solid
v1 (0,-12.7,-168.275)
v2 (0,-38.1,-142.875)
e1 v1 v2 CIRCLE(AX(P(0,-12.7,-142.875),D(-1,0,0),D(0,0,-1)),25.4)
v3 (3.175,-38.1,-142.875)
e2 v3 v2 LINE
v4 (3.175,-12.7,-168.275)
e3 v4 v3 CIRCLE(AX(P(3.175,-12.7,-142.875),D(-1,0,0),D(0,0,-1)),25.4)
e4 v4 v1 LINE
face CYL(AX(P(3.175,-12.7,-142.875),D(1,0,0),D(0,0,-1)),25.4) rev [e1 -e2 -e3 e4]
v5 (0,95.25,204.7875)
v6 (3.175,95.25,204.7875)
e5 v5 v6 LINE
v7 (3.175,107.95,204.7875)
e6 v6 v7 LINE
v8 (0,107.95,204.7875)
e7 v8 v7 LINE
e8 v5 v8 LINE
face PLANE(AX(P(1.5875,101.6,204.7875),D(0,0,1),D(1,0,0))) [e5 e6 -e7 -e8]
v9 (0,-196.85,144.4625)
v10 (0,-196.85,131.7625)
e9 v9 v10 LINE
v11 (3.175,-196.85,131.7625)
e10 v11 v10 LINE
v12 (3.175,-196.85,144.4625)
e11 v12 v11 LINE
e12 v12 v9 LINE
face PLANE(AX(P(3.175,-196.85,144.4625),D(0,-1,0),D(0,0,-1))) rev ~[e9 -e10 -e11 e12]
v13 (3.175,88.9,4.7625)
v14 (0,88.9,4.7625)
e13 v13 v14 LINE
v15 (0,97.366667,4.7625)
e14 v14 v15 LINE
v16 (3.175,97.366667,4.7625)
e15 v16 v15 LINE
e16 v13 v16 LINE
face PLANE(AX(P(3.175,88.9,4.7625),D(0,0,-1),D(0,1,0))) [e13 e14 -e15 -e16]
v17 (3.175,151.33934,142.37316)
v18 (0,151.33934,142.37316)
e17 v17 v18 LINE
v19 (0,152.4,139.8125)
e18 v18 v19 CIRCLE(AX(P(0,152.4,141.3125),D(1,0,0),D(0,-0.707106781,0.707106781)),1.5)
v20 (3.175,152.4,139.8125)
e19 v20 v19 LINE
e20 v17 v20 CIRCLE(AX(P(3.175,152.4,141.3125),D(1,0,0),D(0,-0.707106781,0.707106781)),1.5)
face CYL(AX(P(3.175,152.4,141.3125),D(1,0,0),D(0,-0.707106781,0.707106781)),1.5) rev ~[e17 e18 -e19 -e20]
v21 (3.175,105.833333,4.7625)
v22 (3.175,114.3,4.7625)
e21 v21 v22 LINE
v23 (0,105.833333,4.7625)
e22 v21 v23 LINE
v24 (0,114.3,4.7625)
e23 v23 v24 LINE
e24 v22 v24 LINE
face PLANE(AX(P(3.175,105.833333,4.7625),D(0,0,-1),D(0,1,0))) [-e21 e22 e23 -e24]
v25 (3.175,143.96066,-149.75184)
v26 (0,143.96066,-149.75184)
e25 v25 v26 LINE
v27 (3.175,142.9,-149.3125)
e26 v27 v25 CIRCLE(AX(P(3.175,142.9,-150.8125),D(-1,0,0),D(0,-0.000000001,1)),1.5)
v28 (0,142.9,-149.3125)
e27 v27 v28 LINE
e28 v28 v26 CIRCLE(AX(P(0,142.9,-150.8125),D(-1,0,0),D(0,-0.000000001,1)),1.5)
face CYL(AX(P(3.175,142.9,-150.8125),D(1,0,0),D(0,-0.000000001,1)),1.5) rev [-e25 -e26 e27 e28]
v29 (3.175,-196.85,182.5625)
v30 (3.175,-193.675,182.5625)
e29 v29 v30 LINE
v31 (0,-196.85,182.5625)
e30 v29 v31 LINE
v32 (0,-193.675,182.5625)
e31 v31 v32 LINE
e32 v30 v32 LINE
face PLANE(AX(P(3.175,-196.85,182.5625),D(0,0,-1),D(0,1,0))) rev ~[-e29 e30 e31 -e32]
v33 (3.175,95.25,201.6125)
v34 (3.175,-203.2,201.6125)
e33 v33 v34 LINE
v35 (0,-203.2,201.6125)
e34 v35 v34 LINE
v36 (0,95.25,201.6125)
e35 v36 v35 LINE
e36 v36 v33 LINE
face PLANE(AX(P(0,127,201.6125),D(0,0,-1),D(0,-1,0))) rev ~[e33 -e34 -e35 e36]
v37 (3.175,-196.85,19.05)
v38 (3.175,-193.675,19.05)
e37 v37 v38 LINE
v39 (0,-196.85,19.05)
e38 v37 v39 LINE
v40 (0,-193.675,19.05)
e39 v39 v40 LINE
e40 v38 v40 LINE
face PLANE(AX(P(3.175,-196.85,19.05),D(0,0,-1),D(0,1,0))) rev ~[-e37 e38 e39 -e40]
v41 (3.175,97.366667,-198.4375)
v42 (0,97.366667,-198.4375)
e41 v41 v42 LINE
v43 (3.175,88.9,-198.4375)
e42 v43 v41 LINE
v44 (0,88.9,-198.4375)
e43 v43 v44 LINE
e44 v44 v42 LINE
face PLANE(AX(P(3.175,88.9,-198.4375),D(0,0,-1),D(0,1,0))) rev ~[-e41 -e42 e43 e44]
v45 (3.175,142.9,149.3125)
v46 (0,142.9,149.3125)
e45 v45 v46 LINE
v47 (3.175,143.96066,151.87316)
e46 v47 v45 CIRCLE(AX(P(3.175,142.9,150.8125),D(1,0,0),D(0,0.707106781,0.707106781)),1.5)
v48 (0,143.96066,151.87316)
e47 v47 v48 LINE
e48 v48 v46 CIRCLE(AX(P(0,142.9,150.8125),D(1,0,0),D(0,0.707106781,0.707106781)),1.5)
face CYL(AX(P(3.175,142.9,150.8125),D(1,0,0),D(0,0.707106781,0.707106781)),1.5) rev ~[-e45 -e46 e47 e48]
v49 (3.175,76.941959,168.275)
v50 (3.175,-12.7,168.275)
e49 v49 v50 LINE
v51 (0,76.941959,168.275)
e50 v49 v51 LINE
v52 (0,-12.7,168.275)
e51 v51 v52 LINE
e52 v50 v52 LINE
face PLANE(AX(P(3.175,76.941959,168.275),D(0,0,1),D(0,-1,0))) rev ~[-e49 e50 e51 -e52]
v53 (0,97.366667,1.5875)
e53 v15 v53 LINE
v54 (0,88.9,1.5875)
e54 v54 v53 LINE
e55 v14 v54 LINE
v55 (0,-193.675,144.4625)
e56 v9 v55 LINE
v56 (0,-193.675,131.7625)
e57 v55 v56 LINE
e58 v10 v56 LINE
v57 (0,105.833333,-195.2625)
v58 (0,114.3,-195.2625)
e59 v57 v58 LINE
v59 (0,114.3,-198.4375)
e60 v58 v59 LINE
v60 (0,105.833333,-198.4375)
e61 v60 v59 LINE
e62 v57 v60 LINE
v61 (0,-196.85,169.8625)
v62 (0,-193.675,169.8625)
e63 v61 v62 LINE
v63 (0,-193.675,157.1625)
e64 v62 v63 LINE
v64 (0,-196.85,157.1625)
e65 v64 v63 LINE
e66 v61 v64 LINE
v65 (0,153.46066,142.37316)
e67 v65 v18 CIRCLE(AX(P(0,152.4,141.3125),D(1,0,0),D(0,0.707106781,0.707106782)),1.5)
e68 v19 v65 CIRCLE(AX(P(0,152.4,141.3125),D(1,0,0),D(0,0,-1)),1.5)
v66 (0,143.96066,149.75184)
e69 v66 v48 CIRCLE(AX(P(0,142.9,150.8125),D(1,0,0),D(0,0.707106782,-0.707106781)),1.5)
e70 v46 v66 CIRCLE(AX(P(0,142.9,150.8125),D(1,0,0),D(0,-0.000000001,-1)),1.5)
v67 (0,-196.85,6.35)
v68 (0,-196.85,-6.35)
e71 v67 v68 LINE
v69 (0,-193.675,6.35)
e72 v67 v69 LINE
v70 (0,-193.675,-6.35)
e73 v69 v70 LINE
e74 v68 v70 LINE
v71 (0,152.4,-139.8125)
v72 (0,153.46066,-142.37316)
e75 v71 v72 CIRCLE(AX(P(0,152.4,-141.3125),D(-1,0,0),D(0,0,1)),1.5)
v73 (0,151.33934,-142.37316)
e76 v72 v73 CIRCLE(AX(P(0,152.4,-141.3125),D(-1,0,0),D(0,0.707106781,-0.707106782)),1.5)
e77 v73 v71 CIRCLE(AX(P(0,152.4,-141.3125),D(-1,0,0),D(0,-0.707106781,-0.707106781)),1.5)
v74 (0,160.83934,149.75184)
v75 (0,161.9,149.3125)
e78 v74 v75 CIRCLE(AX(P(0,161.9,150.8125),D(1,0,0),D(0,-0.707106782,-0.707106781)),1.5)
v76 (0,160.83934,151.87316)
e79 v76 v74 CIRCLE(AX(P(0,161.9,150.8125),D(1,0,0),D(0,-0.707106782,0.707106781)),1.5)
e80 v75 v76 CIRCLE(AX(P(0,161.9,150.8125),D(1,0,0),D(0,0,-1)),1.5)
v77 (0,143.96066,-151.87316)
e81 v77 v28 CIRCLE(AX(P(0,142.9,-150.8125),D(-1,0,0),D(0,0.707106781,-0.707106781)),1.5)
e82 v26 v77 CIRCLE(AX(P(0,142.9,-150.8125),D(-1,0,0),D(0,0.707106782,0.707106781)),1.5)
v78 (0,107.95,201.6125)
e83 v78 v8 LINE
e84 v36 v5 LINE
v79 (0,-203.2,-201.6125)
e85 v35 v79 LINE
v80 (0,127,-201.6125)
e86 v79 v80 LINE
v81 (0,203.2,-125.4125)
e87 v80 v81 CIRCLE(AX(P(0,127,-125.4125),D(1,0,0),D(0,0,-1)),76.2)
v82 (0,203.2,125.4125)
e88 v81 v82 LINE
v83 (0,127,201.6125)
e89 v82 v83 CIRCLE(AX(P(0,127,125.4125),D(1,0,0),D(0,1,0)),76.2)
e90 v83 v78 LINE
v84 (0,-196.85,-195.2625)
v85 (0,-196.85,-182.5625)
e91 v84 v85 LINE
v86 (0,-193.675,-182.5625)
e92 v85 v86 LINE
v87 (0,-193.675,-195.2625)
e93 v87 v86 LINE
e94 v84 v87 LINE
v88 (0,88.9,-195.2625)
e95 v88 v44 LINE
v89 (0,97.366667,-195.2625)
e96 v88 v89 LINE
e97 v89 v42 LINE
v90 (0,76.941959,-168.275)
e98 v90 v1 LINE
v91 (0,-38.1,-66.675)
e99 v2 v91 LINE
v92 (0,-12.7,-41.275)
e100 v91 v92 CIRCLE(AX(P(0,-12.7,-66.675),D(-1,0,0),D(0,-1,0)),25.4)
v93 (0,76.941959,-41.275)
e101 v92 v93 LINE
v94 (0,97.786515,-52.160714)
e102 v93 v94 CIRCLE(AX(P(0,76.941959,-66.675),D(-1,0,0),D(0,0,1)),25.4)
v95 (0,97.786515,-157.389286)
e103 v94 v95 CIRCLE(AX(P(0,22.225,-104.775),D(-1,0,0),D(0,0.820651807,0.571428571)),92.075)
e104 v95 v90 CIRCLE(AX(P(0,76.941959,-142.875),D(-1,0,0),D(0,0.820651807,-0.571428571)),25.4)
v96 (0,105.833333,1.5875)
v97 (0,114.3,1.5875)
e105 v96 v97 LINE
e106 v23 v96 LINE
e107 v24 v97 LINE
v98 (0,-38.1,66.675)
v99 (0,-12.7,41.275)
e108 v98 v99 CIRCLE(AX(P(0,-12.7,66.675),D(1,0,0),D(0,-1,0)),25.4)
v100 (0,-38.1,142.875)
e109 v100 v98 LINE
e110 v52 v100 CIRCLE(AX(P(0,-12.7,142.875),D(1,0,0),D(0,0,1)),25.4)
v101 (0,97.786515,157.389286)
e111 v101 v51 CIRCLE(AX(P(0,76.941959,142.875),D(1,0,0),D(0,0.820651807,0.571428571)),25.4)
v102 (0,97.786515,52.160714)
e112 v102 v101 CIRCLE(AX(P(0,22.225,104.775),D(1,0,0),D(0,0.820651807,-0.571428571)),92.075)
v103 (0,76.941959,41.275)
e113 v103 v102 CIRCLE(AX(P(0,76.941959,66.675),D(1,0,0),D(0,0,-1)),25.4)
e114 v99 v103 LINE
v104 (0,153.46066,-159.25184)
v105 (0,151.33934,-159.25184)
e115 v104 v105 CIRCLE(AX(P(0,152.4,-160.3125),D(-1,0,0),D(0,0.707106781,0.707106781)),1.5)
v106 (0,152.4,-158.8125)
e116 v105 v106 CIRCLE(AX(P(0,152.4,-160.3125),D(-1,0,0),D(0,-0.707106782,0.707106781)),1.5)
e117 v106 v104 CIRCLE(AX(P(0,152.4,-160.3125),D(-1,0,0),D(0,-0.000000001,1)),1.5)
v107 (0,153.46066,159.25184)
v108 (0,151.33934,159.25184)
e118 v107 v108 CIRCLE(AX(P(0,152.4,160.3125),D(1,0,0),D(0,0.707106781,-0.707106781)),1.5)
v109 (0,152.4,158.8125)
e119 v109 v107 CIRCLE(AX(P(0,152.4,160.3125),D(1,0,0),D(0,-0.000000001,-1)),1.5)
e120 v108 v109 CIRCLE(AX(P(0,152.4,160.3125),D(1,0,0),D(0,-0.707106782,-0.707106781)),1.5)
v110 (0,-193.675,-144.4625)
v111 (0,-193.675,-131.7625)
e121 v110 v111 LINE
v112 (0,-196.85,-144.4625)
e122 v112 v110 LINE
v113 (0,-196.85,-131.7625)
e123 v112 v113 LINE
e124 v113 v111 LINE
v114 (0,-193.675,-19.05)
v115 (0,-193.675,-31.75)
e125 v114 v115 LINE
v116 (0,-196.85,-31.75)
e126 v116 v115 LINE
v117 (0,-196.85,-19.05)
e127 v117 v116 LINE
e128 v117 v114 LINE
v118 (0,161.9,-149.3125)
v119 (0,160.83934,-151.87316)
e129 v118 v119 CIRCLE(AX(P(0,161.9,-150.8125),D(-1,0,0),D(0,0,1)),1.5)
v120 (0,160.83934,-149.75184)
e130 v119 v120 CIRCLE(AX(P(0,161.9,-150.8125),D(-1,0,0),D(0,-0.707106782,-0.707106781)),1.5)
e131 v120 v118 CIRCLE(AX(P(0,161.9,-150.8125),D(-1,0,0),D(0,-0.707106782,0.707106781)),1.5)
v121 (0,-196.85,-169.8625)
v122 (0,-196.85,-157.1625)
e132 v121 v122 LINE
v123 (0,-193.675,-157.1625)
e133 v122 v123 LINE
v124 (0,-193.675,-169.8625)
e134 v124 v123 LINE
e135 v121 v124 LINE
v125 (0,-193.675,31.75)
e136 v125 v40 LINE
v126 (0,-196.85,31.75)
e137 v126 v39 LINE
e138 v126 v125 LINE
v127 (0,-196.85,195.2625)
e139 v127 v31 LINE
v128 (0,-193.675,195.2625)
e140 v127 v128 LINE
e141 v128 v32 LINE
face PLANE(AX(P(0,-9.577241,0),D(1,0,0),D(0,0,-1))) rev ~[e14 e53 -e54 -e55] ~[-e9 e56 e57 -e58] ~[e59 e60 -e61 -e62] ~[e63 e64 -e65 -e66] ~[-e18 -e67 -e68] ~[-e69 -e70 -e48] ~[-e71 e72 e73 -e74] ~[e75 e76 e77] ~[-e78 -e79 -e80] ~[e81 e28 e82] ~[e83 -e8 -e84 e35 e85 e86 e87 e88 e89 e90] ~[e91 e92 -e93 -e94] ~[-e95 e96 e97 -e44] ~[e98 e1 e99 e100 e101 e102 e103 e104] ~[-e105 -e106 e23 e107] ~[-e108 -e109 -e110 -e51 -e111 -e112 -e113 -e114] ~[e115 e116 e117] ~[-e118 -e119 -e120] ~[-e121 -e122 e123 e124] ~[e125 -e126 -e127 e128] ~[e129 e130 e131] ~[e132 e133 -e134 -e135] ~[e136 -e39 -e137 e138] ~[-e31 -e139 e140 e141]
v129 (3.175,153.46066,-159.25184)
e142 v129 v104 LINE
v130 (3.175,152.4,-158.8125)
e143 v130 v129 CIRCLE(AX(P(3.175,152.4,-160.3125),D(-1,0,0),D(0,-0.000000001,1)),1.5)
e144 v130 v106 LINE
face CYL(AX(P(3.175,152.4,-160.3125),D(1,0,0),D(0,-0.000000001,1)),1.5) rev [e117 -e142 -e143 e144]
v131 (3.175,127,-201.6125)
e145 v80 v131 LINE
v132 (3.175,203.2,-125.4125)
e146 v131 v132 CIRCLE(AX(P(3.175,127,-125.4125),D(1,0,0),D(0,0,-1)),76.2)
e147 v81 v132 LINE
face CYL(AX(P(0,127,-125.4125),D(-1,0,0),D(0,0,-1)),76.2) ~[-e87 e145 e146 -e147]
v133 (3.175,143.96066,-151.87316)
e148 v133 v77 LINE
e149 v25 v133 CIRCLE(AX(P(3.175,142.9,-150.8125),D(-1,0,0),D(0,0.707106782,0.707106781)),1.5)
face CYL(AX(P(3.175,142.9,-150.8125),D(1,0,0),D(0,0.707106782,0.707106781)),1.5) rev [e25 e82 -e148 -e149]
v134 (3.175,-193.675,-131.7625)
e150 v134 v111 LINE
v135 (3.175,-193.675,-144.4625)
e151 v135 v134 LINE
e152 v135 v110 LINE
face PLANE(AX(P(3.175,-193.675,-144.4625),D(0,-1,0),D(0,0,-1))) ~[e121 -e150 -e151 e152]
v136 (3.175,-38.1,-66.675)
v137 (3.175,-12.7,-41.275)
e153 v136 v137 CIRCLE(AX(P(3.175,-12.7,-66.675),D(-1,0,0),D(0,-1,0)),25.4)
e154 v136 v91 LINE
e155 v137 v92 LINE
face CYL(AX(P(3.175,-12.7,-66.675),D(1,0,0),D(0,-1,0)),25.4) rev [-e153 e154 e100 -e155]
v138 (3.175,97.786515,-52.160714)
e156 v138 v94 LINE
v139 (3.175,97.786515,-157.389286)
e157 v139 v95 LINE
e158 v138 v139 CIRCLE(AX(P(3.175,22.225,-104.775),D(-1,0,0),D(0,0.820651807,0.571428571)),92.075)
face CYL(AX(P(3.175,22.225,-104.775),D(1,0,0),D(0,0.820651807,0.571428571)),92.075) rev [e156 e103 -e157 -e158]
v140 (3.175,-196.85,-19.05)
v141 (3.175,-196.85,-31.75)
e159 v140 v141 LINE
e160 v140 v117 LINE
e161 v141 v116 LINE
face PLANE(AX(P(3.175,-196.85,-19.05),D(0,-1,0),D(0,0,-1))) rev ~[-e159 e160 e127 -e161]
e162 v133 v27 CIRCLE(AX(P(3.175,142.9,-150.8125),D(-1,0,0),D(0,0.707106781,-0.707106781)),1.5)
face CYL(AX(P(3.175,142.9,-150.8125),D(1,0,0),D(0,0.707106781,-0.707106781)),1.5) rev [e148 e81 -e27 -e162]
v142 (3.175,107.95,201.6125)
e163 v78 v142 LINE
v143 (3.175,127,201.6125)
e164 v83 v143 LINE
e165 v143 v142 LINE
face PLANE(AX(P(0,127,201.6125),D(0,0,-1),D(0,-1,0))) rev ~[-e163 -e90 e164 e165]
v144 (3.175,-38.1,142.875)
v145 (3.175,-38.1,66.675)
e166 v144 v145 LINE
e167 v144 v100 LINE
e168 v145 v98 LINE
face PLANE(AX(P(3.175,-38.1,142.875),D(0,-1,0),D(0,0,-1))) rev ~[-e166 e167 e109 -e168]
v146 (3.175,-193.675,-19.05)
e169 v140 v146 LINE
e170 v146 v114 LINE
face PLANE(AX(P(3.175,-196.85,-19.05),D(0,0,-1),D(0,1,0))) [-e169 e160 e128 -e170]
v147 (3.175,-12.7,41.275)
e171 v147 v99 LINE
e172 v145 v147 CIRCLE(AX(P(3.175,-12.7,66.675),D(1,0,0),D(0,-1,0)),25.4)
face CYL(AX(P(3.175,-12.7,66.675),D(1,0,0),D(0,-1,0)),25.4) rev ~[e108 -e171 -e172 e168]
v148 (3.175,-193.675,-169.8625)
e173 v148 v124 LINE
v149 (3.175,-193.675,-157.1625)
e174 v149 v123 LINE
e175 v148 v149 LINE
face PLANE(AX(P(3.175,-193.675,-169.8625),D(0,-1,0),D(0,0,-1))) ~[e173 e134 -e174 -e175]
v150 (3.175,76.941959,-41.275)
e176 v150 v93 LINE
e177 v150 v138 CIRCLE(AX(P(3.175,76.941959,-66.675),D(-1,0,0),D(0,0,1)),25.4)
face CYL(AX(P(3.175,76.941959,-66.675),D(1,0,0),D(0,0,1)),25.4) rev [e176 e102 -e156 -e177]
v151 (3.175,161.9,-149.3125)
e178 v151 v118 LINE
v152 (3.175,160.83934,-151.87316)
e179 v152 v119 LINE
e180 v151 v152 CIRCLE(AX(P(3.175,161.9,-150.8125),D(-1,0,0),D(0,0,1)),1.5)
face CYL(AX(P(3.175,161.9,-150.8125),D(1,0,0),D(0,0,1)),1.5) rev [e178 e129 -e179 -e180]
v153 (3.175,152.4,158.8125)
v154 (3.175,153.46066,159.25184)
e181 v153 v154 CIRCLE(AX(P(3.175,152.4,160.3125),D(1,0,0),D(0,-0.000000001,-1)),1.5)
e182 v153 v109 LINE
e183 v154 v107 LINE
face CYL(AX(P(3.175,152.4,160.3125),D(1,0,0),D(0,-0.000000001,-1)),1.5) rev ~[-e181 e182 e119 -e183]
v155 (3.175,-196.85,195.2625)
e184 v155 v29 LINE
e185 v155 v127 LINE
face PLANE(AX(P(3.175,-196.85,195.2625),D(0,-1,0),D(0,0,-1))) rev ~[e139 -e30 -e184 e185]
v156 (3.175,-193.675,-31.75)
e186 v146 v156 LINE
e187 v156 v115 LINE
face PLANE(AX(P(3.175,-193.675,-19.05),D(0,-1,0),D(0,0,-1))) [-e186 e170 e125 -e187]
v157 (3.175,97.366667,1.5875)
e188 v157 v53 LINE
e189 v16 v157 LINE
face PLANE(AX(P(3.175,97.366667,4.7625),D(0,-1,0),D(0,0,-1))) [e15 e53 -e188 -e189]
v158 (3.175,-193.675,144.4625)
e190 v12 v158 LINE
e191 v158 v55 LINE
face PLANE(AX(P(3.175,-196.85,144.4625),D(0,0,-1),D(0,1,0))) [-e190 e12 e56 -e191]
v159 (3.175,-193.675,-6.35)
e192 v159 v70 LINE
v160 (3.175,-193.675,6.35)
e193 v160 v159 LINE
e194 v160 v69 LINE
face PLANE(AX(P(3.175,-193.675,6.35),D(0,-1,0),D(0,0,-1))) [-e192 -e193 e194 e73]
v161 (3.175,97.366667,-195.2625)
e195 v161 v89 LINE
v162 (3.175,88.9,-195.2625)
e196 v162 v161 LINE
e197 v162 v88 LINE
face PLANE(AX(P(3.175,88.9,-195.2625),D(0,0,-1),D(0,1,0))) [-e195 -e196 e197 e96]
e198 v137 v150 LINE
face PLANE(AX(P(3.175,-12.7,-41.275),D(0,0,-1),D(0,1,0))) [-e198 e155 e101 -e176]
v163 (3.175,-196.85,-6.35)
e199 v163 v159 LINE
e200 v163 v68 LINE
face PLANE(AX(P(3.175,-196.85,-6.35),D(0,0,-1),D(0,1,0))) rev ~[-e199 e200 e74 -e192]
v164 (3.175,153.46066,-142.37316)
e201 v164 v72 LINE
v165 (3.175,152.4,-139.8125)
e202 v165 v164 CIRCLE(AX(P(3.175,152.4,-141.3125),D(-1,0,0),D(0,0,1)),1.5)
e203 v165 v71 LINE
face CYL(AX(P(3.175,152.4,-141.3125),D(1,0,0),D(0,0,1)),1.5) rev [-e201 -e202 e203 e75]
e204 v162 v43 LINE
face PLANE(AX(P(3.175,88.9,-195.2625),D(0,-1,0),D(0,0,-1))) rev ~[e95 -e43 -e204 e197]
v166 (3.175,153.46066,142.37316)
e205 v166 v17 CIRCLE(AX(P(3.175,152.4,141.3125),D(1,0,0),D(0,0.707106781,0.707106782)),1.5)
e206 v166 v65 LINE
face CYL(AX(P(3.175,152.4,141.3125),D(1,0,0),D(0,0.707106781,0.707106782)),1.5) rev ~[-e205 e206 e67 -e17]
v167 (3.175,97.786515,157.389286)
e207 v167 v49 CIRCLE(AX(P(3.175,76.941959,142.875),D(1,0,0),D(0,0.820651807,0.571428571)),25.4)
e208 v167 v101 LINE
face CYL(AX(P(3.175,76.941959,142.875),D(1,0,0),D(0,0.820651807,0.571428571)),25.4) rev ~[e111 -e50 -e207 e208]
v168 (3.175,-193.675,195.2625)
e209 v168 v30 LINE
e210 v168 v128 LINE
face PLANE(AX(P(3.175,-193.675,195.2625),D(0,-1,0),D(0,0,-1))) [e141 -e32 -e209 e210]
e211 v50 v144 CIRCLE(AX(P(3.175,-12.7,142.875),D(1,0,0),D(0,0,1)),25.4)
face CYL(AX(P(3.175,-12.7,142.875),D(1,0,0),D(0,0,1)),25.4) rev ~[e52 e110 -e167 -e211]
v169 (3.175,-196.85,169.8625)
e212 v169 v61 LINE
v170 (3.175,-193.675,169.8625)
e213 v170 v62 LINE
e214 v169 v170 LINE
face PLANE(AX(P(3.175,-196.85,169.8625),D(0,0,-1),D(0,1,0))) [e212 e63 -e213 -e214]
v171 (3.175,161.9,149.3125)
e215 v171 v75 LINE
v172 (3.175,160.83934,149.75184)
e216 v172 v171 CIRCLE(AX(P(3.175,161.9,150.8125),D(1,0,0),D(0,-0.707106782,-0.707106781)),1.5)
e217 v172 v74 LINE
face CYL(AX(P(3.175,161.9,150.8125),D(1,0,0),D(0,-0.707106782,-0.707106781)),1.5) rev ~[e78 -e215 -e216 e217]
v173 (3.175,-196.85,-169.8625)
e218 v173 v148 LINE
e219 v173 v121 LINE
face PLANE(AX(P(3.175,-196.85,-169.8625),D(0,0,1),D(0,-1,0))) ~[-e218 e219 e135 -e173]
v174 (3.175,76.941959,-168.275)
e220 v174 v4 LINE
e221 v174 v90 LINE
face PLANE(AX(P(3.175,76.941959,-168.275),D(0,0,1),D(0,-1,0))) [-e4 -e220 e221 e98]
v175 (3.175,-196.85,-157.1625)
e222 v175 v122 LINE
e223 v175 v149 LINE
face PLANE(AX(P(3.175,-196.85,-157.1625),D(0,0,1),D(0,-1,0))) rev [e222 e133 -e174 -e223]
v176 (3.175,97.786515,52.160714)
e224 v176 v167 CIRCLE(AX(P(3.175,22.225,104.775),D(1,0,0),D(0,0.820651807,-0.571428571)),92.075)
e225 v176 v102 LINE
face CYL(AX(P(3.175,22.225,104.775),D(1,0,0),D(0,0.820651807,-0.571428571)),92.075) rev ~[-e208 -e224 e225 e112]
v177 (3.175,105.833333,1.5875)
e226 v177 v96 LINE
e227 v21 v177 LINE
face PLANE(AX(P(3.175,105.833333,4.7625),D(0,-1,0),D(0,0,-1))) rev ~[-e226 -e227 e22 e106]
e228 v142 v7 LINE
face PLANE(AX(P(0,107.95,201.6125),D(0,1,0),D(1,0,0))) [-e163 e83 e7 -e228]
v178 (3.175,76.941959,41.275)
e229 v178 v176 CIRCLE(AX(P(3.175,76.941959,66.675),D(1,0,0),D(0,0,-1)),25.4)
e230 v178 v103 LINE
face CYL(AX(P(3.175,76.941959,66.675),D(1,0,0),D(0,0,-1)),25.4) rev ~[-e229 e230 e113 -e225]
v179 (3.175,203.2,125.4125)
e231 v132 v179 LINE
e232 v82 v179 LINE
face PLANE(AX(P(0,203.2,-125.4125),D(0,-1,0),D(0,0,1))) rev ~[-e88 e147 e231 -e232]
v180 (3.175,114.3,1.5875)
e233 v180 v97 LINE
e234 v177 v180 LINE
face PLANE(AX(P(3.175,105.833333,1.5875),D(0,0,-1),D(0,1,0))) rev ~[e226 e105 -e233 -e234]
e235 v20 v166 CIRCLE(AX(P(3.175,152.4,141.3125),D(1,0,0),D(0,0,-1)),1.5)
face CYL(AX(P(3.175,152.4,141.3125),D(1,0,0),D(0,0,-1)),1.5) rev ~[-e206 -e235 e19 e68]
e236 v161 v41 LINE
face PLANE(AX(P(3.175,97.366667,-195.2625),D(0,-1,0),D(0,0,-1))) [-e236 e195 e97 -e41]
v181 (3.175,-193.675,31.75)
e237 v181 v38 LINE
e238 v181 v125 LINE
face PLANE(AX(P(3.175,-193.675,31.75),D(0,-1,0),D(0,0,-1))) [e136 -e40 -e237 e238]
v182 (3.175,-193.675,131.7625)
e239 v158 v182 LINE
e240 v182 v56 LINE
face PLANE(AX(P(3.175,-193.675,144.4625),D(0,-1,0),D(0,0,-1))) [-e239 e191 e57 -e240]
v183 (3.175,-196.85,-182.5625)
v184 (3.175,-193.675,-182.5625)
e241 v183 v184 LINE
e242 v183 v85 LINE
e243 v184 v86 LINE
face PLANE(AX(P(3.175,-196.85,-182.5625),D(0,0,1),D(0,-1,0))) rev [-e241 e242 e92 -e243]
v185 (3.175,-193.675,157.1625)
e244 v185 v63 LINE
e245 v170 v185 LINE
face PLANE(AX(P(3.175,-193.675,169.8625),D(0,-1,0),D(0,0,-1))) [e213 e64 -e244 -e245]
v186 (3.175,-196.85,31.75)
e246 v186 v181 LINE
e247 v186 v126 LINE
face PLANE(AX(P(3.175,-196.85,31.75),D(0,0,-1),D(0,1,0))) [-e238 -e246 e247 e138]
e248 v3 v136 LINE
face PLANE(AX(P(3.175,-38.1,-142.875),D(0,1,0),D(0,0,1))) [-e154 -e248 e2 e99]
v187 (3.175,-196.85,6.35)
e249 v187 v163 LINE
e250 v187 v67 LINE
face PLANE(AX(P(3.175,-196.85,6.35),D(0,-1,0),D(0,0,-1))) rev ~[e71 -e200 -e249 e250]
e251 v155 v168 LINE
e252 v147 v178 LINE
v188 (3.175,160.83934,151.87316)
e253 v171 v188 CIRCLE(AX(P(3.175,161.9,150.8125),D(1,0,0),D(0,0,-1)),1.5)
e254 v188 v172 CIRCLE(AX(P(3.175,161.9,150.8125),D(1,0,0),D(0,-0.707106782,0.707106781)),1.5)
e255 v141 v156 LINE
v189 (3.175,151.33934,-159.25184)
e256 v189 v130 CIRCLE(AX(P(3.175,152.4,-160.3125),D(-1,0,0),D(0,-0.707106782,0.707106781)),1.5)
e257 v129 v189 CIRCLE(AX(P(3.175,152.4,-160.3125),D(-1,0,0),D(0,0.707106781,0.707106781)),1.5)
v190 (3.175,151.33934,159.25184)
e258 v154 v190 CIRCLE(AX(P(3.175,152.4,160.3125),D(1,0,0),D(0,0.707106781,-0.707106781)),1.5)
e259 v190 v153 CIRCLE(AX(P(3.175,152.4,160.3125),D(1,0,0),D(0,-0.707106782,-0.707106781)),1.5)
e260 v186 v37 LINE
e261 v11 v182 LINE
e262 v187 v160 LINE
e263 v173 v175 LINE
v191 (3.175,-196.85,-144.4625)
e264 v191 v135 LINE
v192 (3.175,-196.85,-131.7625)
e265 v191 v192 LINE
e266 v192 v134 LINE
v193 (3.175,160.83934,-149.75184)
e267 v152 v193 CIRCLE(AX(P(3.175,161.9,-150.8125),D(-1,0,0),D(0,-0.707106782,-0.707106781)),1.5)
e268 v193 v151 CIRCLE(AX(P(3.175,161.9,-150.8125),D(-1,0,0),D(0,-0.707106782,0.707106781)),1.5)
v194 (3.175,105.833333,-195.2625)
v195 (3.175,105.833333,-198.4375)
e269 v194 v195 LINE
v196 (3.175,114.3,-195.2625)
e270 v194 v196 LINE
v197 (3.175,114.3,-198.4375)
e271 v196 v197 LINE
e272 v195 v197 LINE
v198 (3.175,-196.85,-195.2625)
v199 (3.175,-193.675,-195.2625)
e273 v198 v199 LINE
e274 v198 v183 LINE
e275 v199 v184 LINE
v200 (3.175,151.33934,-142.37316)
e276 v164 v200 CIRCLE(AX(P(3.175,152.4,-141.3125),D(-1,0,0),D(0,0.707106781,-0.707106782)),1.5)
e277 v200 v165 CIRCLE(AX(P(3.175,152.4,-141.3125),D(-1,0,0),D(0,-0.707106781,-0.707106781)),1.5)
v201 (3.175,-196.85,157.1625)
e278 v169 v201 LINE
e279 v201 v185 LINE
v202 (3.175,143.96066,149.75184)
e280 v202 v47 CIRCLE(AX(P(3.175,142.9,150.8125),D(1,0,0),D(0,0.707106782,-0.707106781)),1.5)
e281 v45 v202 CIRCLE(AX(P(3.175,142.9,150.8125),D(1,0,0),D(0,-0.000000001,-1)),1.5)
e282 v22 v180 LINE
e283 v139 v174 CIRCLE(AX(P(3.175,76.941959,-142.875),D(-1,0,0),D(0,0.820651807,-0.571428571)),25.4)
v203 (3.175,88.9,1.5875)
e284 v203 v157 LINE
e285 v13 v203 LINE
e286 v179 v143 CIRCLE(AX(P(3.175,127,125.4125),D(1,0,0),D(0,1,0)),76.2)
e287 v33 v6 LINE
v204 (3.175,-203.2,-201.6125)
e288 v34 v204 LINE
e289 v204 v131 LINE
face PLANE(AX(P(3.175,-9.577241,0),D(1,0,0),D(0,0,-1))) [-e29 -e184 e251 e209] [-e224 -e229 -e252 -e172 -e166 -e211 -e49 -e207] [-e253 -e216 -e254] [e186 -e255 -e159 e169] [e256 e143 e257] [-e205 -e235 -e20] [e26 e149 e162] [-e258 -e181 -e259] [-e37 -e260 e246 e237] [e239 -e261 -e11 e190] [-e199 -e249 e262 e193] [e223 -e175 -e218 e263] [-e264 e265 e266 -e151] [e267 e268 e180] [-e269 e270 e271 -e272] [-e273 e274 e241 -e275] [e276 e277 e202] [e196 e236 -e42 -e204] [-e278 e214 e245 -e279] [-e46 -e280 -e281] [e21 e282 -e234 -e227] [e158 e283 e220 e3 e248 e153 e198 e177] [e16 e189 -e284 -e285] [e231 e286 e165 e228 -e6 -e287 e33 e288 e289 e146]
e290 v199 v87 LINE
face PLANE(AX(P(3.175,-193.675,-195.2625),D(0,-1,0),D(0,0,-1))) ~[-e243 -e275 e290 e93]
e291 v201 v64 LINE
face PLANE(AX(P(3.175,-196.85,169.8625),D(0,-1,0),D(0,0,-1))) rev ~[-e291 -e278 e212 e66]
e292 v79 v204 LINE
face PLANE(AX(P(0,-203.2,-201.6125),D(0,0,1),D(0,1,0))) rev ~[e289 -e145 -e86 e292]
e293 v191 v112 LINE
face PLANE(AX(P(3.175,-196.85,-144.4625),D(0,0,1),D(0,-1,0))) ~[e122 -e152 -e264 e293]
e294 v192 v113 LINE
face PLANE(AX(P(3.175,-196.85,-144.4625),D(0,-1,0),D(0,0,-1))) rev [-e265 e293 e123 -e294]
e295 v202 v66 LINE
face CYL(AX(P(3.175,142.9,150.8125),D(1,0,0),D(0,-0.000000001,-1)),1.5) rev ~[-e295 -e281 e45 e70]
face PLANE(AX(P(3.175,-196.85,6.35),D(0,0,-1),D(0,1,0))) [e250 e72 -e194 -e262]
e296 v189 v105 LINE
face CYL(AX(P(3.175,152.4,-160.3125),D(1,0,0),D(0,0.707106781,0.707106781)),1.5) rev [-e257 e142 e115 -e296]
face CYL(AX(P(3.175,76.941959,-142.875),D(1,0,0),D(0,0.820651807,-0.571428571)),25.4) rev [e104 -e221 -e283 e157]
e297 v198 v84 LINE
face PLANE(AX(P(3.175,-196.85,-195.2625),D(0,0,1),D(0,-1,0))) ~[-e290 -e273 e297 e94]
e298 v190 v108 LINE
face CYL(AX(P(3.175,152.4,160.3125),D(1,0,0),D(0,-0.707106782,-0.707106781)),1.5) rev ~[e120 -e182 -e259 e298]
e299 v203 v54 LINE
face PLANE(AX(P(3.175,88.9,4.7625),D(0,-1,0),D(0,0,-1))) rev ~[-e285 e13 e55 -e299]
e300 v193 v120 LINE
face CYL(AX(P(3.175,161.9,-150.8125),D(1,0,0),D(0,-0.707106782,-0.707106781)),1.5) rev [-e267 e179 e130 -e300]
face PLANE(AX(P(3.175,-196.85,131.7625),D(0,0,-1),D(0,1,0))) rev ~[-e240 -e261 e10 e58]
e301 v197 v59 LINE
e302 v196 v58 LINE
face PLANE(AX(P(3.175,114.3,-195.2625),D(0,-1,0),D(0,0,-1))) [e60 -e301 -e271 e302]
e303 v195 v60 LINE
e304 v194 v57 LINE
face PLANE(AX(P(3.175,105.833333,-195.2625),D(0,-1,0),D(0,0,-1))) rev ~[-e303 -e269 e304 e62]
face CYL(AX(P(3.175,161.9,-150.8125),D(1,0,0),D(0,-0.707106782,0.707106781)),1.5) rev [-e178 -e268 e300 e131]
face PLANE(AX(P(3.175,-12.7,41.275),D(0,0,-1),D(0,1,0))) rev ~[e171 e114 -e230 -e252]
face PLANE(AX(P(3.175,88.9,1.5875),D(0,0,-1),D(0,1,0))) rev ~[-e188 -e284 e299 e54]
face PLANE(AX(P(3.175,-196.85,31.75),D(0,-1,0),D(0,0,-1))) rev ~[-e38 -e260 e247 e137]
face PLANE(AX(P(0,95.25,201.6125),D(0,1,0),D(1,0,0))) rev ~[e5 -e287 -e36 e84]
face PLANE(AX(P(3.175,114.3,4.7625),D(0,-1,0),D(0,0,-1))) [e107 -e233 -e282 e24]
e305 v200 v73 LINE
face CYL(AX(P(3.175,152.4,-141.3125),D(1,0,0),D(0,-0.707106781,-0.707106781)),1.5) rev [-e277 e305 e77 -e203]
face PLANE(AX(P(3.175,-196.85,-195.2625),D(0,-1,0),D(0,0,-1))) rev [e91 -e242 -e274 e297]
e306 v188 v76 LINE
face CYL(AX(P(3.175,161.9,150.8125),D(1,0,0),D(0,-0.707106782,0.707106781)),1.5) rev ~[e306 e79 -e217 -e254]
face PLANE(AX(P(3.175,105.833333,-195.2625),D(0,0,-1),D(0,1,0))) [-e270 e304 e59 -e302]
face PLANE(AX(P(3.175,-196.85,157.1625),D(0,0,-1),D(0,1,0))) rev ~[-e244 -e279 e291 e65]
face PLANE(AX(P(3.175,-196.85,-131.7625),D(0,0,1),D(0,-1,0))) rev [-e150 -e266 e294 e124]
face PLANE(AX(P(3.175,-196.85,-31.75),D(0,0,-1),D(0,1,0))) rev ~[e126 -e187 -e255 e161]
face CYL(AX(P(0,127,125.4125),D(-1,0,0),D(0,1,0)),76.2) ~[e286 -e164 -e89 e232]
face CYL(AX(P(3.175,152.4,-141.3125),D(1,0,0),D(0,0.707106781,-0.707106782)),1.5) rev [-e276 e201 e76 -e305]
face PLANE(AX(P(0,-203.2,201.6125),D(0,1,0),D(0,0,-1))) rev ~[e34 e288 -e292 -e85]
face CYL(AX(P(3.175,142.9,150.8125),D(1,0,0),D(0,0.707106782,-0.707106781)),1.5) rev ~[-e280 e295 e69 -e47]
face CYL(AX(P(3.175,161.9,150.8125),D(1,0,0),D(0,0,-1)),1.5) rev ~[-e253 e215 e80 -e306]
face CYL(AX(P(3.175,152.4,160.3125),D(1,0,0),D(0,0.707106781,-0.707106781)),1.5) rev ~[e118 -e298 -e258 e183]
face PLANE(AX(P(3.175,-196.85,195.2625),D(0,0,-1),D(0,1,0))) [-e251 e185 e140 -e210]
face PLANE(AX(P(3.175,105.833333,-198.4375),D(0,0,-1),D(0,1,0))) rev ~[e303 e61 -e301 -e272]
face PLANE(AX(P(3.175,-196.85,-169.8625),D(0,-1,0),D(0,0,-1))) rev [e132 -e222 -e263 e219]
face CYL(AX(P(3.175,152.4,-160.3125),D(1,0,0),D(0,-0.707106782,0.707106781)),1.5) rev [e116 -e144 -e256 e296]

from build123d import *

# Parameters (mm, degrees)
BOSS_EXTRUDE1_DEPTH = 3.175
SKETCH2_W           = 3.175
SKETCH2_H           = 8.466666667
CUT_EXTRUDE1_DEPTH  = 3.175
SKETCH3_W           = 3.175
SKETCH3_H           = 12.7
BOSS_EXTRUDE2_DEPTH = 3.175
CUT_EXTRUDE2_DEPTH  = 3.175
SKETCH5_W           = 12.7
SKETCH5_H           = 3.175
CUT_EXTRUDE3_DEPTH  = 3.175
SKETCH6_W           = 12.7
SKETCH6_H           = 3.175
CUT_EXTRUDE4_DEPTH  = 3.175
CUT_EXTRUDE5_DEPTH  = 3.175


with BuildPart() as part:
    # Sketch1 → Boss-Extrude1 (new body)
    with BuildSketch(Plane(origin=(0, 0, 0), x_dir=(0, 0, -1), z_dir=(1, 0, 0))):
        with BuildLine():
            Line((-201.6125, -203.2), (201.6125, -203.2))
            Line((201.6125, -203.2), (201.6125, 127))
            ThreePointArc((201.6125, 127), (179.294036726, 180.881536726), (125.4125, 203.2))
            Line((125.4125, 203.2), (-125.4125, 203.2))
            ThreePointArc((-125.4125, 203.2), (-179.294036726, 180.881536726), (-201.6125, 127))
            Line((-201.6125, 127), (-201.6125, -203.2))
        make_face()
    extrude(amount=BOSS_EXTRUDE1_DEPTH)

    # Sketch2 → Cut-Extrude1 (cut)
    with BuildSketch(Plane(origin=(3.175, 0, 0), x_dir=(0, 0, -1), z_dir=(1, 0, 0))):
        with Locations((-3.175, 110.066666667)):
            Rectangle(SKETCH2_W, SKETCH2_H)
        with Locations((196.85, 110.066666667)):
            Rectangle(SKETCH2_W, SKETCH2_H)
        with Locations((196.85, 93.133333334)):
            Rectangle(SKETCH2_W, SKETCH2_H)
        with Locations((-3.175, 93.133333334)):
            Rectangle(SKETCH2_W, SKETCH2_H)
    extrude(amount=-CUT_EXTRUDE1_DEPTH, mode=Mode.SUBTRACT)

    # Sketch3 → Boss-Extrude2 (add)
    with BuildSketch(Plane.XY.offset(201.6125)):
        with Locations((1.5875, 101.6)):
            Rectangle(SKETCH3_W, SKETCH3_H)
    extrude(amount=BOSS_EXTRUDE2_DEPTH)

    # Sketch4 → Cut-Extrude2 (cut)
    with BuildSketch(Plane(origin=(3.175, 0, 0), x_dir=(0, 0, -1), z_dir=(1, 0, 0))):
        with BuildLine():
            Line((-168.275, 76.941959208), (-168.275, -12.7))
            ThreePointArc((-168.275, -12.7), (-160.835512242, -30.660512242), (-142.875, -38.1))
            Line((-142.875, -38.1), (-66.675, -38.1))
            ThreePointArc((-66.675, -38.1), (-48.714487758, -30.660512242), (-41.275, -12.7))
            Line((-41.275, -12.7), (-41.275, 76.941959208))
            ThreePointArc((-41.275, 76.941959208), (-44.160306385, 88.699874475), (-52.160714286, 97.786515097))
            ThreePointArc((-52.160714286, 97.786515097), (-104.775, 114.3), (-157.389285714, 97.786515097))
            ThreePointArc((-157.389285714, 97.786515097), (-165.389693615, 88.699874475), (-168.275, 76.941959208))
        make_face()
        with BuildLine():
            Line((168.275, 76.941959208), (168.275, -12.7))
            ThreePointArc((168.275, -12.7), (160.835512242, -30.660512242), (142.875, -38.1))
            Line((142.875, -38.1), (66.675, -38.1))
            ThreePointArc((66.675, -38.1), (48.714487758, -30.660512242), (41.275, -12.7))
            Line((41.275, -12.7), (41.275, 76.941959208))
            ThreePointArc((41.275, 76.941959208), (44.160306385, 88.699874475), (52.160714286, 97.786515097))
            ThreePointArc((52.160714286, 97.786515097), (104.775, 114.3), (157.389285714, 97.786515097))
            ThreePointArc((157.389285714, 97.786515097), (165.389693615, 88.699874475), (168.275, 76.941959208))
        make_face()
    extrude(amount=-CUT_EXTRUDE2_DEPTH, mode=Mode.SUBTRACT)

    # Sketch5 → Cut-Extrude3 (cut)
    with BuildSketch(Plane(origin=(3.175, 0, 0), x_dir=(0, 0, -1), z_dir=(1, 0, 0))):
        with Locations((-188.9125, -195.2625)):
            Rectangle(SKETCH5_W, SKETCH5_H)
        with Locations((-163.5125, -195.2625)):
            Rectangle(SKETCH5_W, SKETCH5_H)
        with Locations((-138.1125, -195.2625)):
            Rectangle(SKETCH5_W, SKETCH5_H)
    cut_extrude3 = extrude(amount=-CUT_EXTRUDE3_DEPTH, mode=Mode.SUBTRACT)

    # Mirror1: Cut-Extrude3 across plane
    add(cut_extrude3.mirror(Plane.XY), mode=Mode.SUBTRACT)

    # Sketch6 → Cut-Extrude4 (cut)
    with BuildSketch(Plane(origin=(3.175, 0, 0), x_dir=(0, 0, -1), z_dir=(1, 0, 0))):
        with Locations((-25.4, -195.2625)):
            Rectangle(SKETCH6_W, SKETCH6_H)
        with Locations((0, -195.2625)):
            Rectangle(SKETCH6_W, SKETCH6_H)
        with Locations((25.4, -195.2625)):
            Rectangle(SKETCH6_W, SKETCH6_H)
    extrude(amount=-CUT_EXTRUDE4_DEPTH, mode=Mode.SUBTRACT)

    # Sketch7 → Cut-Extrude5 (cut)
    with BuildSketch(Plane(origin=(3.175, 0, 0), x_dir=(0, 0, -1), z_dir=(1, 0, 0))):
        with BuildLine():
            ThreePointArc((-158.8125, 152.4), (-158.926680701, 152.974025149), (-159.251839828, 153.460660172))
            Line((-159.251839828, 153.460660172), (-160.3125, 152.4))
            Line((-160.3125, 152.4), (-159.251839828, 151.339339828))
            ThreePointArc((-159.251839828, 151.339339828), (-158.926680701, 151.825974851), (-158.8125, 152.4))
        make_face()
        with BuildLine():
            Line((-160.3125, 152.4), (-159.251839828, 153.460660172))
            ThreePointArc((-159.251839828, 153.460660172), (-161.8125, 152.4), (-159.251839828, 151.339339828))
            Line((-159.251839828, 151.339339828), (-160.3125, 152.4))
        make_face()
        with BuildLine():
            Line((-149.751839828, 160.839339828), (-150.8125, 161.9))
            Line((-150.8125, 161.9), (-151.873160172, 160.839339828))
            ThreePointArc((-151.873160172, 160.839339828), (-150.8125, 160.4), (-149.751839828, 160.839339828))
        make_face()
        with BuildLine():
            Line((-151.873160172, 160.839339828), (-150.8125, 161.9))
            Line((-150.8125, 161.9), (-149.751839828, 160.839339828))
            ThreePointArc((-149.751839828, 160.839339828), (-149.426680701, 161.325974851), (-149.3125, 161.9))
            ThreePointArc((-149.3125, 161.9), (-151.386525149, 163.285819299), (-151.873160172, 160.839339828))
        make_face()
        with BuildLine():
            ThreePointArc((-139.8125, 152.4), (-140.738474851, 153.785819299), (-142.373160172, 153.460660172))
            Line((-142.373160172, 153.460660172), (-141.3125, 152.4))
            Line((-141.3125, 152.4), (-142.373160172, 151.339339828))
            ThreePointArc((-142.373160172, 151.339339828), (-140.738474851, 151.014180701), (-139.8125, 152.4))
        make_face()
        with BuildLine():
            Line((-141.3125, 152.4), (-142.373160172, 153.460660172))
            ThreePointArc((-142.373160172, 153.460660172), (-142.8125, 152.4), (-142.373160172, 151.339339828))
            Line((-142.373160172, 151.339339828), (-141.3125, 152.4))
        make_face()
        with BuildLine():
            ThreePointArc((-149.751839828, 143.960660172), (-150.8125, 144.4), (-151.873160172, 143.960660172))
            Line((-151.873160172, 143.960660172), (-150.8125, 142.9))
            Line((-150.8125, 142.9), (-149.751839828, 143.960660172))
        make_face()
        with BuildLine():
            Line((-150.8125, 142.9), (-151.873160172, 143.960660172))
            ThreePointArc((-151.873160172, 143.960660172), (-151.386525149, 141.514180701), (-149.3125, 142.9))
            ThreePointArc((-149.3125, 142.9), (-149.426680701, 143.474025149), (-149.751839828, 143.960660172))
            Line((-149.751839828, 143.960660172), (-150.8125, 142.9))
        make_face()
    cut_extrude5 = extrude(amount=-CUT_EXTRUDE5_DEPTH, mode=Mode.SUBTRACT)

    # Mirror2: Cut-Extrude5 across plane
    add(cut_extrude5.mirror(Plane.XY), mode=Mode.SUBTRACT)


solid = part.part
